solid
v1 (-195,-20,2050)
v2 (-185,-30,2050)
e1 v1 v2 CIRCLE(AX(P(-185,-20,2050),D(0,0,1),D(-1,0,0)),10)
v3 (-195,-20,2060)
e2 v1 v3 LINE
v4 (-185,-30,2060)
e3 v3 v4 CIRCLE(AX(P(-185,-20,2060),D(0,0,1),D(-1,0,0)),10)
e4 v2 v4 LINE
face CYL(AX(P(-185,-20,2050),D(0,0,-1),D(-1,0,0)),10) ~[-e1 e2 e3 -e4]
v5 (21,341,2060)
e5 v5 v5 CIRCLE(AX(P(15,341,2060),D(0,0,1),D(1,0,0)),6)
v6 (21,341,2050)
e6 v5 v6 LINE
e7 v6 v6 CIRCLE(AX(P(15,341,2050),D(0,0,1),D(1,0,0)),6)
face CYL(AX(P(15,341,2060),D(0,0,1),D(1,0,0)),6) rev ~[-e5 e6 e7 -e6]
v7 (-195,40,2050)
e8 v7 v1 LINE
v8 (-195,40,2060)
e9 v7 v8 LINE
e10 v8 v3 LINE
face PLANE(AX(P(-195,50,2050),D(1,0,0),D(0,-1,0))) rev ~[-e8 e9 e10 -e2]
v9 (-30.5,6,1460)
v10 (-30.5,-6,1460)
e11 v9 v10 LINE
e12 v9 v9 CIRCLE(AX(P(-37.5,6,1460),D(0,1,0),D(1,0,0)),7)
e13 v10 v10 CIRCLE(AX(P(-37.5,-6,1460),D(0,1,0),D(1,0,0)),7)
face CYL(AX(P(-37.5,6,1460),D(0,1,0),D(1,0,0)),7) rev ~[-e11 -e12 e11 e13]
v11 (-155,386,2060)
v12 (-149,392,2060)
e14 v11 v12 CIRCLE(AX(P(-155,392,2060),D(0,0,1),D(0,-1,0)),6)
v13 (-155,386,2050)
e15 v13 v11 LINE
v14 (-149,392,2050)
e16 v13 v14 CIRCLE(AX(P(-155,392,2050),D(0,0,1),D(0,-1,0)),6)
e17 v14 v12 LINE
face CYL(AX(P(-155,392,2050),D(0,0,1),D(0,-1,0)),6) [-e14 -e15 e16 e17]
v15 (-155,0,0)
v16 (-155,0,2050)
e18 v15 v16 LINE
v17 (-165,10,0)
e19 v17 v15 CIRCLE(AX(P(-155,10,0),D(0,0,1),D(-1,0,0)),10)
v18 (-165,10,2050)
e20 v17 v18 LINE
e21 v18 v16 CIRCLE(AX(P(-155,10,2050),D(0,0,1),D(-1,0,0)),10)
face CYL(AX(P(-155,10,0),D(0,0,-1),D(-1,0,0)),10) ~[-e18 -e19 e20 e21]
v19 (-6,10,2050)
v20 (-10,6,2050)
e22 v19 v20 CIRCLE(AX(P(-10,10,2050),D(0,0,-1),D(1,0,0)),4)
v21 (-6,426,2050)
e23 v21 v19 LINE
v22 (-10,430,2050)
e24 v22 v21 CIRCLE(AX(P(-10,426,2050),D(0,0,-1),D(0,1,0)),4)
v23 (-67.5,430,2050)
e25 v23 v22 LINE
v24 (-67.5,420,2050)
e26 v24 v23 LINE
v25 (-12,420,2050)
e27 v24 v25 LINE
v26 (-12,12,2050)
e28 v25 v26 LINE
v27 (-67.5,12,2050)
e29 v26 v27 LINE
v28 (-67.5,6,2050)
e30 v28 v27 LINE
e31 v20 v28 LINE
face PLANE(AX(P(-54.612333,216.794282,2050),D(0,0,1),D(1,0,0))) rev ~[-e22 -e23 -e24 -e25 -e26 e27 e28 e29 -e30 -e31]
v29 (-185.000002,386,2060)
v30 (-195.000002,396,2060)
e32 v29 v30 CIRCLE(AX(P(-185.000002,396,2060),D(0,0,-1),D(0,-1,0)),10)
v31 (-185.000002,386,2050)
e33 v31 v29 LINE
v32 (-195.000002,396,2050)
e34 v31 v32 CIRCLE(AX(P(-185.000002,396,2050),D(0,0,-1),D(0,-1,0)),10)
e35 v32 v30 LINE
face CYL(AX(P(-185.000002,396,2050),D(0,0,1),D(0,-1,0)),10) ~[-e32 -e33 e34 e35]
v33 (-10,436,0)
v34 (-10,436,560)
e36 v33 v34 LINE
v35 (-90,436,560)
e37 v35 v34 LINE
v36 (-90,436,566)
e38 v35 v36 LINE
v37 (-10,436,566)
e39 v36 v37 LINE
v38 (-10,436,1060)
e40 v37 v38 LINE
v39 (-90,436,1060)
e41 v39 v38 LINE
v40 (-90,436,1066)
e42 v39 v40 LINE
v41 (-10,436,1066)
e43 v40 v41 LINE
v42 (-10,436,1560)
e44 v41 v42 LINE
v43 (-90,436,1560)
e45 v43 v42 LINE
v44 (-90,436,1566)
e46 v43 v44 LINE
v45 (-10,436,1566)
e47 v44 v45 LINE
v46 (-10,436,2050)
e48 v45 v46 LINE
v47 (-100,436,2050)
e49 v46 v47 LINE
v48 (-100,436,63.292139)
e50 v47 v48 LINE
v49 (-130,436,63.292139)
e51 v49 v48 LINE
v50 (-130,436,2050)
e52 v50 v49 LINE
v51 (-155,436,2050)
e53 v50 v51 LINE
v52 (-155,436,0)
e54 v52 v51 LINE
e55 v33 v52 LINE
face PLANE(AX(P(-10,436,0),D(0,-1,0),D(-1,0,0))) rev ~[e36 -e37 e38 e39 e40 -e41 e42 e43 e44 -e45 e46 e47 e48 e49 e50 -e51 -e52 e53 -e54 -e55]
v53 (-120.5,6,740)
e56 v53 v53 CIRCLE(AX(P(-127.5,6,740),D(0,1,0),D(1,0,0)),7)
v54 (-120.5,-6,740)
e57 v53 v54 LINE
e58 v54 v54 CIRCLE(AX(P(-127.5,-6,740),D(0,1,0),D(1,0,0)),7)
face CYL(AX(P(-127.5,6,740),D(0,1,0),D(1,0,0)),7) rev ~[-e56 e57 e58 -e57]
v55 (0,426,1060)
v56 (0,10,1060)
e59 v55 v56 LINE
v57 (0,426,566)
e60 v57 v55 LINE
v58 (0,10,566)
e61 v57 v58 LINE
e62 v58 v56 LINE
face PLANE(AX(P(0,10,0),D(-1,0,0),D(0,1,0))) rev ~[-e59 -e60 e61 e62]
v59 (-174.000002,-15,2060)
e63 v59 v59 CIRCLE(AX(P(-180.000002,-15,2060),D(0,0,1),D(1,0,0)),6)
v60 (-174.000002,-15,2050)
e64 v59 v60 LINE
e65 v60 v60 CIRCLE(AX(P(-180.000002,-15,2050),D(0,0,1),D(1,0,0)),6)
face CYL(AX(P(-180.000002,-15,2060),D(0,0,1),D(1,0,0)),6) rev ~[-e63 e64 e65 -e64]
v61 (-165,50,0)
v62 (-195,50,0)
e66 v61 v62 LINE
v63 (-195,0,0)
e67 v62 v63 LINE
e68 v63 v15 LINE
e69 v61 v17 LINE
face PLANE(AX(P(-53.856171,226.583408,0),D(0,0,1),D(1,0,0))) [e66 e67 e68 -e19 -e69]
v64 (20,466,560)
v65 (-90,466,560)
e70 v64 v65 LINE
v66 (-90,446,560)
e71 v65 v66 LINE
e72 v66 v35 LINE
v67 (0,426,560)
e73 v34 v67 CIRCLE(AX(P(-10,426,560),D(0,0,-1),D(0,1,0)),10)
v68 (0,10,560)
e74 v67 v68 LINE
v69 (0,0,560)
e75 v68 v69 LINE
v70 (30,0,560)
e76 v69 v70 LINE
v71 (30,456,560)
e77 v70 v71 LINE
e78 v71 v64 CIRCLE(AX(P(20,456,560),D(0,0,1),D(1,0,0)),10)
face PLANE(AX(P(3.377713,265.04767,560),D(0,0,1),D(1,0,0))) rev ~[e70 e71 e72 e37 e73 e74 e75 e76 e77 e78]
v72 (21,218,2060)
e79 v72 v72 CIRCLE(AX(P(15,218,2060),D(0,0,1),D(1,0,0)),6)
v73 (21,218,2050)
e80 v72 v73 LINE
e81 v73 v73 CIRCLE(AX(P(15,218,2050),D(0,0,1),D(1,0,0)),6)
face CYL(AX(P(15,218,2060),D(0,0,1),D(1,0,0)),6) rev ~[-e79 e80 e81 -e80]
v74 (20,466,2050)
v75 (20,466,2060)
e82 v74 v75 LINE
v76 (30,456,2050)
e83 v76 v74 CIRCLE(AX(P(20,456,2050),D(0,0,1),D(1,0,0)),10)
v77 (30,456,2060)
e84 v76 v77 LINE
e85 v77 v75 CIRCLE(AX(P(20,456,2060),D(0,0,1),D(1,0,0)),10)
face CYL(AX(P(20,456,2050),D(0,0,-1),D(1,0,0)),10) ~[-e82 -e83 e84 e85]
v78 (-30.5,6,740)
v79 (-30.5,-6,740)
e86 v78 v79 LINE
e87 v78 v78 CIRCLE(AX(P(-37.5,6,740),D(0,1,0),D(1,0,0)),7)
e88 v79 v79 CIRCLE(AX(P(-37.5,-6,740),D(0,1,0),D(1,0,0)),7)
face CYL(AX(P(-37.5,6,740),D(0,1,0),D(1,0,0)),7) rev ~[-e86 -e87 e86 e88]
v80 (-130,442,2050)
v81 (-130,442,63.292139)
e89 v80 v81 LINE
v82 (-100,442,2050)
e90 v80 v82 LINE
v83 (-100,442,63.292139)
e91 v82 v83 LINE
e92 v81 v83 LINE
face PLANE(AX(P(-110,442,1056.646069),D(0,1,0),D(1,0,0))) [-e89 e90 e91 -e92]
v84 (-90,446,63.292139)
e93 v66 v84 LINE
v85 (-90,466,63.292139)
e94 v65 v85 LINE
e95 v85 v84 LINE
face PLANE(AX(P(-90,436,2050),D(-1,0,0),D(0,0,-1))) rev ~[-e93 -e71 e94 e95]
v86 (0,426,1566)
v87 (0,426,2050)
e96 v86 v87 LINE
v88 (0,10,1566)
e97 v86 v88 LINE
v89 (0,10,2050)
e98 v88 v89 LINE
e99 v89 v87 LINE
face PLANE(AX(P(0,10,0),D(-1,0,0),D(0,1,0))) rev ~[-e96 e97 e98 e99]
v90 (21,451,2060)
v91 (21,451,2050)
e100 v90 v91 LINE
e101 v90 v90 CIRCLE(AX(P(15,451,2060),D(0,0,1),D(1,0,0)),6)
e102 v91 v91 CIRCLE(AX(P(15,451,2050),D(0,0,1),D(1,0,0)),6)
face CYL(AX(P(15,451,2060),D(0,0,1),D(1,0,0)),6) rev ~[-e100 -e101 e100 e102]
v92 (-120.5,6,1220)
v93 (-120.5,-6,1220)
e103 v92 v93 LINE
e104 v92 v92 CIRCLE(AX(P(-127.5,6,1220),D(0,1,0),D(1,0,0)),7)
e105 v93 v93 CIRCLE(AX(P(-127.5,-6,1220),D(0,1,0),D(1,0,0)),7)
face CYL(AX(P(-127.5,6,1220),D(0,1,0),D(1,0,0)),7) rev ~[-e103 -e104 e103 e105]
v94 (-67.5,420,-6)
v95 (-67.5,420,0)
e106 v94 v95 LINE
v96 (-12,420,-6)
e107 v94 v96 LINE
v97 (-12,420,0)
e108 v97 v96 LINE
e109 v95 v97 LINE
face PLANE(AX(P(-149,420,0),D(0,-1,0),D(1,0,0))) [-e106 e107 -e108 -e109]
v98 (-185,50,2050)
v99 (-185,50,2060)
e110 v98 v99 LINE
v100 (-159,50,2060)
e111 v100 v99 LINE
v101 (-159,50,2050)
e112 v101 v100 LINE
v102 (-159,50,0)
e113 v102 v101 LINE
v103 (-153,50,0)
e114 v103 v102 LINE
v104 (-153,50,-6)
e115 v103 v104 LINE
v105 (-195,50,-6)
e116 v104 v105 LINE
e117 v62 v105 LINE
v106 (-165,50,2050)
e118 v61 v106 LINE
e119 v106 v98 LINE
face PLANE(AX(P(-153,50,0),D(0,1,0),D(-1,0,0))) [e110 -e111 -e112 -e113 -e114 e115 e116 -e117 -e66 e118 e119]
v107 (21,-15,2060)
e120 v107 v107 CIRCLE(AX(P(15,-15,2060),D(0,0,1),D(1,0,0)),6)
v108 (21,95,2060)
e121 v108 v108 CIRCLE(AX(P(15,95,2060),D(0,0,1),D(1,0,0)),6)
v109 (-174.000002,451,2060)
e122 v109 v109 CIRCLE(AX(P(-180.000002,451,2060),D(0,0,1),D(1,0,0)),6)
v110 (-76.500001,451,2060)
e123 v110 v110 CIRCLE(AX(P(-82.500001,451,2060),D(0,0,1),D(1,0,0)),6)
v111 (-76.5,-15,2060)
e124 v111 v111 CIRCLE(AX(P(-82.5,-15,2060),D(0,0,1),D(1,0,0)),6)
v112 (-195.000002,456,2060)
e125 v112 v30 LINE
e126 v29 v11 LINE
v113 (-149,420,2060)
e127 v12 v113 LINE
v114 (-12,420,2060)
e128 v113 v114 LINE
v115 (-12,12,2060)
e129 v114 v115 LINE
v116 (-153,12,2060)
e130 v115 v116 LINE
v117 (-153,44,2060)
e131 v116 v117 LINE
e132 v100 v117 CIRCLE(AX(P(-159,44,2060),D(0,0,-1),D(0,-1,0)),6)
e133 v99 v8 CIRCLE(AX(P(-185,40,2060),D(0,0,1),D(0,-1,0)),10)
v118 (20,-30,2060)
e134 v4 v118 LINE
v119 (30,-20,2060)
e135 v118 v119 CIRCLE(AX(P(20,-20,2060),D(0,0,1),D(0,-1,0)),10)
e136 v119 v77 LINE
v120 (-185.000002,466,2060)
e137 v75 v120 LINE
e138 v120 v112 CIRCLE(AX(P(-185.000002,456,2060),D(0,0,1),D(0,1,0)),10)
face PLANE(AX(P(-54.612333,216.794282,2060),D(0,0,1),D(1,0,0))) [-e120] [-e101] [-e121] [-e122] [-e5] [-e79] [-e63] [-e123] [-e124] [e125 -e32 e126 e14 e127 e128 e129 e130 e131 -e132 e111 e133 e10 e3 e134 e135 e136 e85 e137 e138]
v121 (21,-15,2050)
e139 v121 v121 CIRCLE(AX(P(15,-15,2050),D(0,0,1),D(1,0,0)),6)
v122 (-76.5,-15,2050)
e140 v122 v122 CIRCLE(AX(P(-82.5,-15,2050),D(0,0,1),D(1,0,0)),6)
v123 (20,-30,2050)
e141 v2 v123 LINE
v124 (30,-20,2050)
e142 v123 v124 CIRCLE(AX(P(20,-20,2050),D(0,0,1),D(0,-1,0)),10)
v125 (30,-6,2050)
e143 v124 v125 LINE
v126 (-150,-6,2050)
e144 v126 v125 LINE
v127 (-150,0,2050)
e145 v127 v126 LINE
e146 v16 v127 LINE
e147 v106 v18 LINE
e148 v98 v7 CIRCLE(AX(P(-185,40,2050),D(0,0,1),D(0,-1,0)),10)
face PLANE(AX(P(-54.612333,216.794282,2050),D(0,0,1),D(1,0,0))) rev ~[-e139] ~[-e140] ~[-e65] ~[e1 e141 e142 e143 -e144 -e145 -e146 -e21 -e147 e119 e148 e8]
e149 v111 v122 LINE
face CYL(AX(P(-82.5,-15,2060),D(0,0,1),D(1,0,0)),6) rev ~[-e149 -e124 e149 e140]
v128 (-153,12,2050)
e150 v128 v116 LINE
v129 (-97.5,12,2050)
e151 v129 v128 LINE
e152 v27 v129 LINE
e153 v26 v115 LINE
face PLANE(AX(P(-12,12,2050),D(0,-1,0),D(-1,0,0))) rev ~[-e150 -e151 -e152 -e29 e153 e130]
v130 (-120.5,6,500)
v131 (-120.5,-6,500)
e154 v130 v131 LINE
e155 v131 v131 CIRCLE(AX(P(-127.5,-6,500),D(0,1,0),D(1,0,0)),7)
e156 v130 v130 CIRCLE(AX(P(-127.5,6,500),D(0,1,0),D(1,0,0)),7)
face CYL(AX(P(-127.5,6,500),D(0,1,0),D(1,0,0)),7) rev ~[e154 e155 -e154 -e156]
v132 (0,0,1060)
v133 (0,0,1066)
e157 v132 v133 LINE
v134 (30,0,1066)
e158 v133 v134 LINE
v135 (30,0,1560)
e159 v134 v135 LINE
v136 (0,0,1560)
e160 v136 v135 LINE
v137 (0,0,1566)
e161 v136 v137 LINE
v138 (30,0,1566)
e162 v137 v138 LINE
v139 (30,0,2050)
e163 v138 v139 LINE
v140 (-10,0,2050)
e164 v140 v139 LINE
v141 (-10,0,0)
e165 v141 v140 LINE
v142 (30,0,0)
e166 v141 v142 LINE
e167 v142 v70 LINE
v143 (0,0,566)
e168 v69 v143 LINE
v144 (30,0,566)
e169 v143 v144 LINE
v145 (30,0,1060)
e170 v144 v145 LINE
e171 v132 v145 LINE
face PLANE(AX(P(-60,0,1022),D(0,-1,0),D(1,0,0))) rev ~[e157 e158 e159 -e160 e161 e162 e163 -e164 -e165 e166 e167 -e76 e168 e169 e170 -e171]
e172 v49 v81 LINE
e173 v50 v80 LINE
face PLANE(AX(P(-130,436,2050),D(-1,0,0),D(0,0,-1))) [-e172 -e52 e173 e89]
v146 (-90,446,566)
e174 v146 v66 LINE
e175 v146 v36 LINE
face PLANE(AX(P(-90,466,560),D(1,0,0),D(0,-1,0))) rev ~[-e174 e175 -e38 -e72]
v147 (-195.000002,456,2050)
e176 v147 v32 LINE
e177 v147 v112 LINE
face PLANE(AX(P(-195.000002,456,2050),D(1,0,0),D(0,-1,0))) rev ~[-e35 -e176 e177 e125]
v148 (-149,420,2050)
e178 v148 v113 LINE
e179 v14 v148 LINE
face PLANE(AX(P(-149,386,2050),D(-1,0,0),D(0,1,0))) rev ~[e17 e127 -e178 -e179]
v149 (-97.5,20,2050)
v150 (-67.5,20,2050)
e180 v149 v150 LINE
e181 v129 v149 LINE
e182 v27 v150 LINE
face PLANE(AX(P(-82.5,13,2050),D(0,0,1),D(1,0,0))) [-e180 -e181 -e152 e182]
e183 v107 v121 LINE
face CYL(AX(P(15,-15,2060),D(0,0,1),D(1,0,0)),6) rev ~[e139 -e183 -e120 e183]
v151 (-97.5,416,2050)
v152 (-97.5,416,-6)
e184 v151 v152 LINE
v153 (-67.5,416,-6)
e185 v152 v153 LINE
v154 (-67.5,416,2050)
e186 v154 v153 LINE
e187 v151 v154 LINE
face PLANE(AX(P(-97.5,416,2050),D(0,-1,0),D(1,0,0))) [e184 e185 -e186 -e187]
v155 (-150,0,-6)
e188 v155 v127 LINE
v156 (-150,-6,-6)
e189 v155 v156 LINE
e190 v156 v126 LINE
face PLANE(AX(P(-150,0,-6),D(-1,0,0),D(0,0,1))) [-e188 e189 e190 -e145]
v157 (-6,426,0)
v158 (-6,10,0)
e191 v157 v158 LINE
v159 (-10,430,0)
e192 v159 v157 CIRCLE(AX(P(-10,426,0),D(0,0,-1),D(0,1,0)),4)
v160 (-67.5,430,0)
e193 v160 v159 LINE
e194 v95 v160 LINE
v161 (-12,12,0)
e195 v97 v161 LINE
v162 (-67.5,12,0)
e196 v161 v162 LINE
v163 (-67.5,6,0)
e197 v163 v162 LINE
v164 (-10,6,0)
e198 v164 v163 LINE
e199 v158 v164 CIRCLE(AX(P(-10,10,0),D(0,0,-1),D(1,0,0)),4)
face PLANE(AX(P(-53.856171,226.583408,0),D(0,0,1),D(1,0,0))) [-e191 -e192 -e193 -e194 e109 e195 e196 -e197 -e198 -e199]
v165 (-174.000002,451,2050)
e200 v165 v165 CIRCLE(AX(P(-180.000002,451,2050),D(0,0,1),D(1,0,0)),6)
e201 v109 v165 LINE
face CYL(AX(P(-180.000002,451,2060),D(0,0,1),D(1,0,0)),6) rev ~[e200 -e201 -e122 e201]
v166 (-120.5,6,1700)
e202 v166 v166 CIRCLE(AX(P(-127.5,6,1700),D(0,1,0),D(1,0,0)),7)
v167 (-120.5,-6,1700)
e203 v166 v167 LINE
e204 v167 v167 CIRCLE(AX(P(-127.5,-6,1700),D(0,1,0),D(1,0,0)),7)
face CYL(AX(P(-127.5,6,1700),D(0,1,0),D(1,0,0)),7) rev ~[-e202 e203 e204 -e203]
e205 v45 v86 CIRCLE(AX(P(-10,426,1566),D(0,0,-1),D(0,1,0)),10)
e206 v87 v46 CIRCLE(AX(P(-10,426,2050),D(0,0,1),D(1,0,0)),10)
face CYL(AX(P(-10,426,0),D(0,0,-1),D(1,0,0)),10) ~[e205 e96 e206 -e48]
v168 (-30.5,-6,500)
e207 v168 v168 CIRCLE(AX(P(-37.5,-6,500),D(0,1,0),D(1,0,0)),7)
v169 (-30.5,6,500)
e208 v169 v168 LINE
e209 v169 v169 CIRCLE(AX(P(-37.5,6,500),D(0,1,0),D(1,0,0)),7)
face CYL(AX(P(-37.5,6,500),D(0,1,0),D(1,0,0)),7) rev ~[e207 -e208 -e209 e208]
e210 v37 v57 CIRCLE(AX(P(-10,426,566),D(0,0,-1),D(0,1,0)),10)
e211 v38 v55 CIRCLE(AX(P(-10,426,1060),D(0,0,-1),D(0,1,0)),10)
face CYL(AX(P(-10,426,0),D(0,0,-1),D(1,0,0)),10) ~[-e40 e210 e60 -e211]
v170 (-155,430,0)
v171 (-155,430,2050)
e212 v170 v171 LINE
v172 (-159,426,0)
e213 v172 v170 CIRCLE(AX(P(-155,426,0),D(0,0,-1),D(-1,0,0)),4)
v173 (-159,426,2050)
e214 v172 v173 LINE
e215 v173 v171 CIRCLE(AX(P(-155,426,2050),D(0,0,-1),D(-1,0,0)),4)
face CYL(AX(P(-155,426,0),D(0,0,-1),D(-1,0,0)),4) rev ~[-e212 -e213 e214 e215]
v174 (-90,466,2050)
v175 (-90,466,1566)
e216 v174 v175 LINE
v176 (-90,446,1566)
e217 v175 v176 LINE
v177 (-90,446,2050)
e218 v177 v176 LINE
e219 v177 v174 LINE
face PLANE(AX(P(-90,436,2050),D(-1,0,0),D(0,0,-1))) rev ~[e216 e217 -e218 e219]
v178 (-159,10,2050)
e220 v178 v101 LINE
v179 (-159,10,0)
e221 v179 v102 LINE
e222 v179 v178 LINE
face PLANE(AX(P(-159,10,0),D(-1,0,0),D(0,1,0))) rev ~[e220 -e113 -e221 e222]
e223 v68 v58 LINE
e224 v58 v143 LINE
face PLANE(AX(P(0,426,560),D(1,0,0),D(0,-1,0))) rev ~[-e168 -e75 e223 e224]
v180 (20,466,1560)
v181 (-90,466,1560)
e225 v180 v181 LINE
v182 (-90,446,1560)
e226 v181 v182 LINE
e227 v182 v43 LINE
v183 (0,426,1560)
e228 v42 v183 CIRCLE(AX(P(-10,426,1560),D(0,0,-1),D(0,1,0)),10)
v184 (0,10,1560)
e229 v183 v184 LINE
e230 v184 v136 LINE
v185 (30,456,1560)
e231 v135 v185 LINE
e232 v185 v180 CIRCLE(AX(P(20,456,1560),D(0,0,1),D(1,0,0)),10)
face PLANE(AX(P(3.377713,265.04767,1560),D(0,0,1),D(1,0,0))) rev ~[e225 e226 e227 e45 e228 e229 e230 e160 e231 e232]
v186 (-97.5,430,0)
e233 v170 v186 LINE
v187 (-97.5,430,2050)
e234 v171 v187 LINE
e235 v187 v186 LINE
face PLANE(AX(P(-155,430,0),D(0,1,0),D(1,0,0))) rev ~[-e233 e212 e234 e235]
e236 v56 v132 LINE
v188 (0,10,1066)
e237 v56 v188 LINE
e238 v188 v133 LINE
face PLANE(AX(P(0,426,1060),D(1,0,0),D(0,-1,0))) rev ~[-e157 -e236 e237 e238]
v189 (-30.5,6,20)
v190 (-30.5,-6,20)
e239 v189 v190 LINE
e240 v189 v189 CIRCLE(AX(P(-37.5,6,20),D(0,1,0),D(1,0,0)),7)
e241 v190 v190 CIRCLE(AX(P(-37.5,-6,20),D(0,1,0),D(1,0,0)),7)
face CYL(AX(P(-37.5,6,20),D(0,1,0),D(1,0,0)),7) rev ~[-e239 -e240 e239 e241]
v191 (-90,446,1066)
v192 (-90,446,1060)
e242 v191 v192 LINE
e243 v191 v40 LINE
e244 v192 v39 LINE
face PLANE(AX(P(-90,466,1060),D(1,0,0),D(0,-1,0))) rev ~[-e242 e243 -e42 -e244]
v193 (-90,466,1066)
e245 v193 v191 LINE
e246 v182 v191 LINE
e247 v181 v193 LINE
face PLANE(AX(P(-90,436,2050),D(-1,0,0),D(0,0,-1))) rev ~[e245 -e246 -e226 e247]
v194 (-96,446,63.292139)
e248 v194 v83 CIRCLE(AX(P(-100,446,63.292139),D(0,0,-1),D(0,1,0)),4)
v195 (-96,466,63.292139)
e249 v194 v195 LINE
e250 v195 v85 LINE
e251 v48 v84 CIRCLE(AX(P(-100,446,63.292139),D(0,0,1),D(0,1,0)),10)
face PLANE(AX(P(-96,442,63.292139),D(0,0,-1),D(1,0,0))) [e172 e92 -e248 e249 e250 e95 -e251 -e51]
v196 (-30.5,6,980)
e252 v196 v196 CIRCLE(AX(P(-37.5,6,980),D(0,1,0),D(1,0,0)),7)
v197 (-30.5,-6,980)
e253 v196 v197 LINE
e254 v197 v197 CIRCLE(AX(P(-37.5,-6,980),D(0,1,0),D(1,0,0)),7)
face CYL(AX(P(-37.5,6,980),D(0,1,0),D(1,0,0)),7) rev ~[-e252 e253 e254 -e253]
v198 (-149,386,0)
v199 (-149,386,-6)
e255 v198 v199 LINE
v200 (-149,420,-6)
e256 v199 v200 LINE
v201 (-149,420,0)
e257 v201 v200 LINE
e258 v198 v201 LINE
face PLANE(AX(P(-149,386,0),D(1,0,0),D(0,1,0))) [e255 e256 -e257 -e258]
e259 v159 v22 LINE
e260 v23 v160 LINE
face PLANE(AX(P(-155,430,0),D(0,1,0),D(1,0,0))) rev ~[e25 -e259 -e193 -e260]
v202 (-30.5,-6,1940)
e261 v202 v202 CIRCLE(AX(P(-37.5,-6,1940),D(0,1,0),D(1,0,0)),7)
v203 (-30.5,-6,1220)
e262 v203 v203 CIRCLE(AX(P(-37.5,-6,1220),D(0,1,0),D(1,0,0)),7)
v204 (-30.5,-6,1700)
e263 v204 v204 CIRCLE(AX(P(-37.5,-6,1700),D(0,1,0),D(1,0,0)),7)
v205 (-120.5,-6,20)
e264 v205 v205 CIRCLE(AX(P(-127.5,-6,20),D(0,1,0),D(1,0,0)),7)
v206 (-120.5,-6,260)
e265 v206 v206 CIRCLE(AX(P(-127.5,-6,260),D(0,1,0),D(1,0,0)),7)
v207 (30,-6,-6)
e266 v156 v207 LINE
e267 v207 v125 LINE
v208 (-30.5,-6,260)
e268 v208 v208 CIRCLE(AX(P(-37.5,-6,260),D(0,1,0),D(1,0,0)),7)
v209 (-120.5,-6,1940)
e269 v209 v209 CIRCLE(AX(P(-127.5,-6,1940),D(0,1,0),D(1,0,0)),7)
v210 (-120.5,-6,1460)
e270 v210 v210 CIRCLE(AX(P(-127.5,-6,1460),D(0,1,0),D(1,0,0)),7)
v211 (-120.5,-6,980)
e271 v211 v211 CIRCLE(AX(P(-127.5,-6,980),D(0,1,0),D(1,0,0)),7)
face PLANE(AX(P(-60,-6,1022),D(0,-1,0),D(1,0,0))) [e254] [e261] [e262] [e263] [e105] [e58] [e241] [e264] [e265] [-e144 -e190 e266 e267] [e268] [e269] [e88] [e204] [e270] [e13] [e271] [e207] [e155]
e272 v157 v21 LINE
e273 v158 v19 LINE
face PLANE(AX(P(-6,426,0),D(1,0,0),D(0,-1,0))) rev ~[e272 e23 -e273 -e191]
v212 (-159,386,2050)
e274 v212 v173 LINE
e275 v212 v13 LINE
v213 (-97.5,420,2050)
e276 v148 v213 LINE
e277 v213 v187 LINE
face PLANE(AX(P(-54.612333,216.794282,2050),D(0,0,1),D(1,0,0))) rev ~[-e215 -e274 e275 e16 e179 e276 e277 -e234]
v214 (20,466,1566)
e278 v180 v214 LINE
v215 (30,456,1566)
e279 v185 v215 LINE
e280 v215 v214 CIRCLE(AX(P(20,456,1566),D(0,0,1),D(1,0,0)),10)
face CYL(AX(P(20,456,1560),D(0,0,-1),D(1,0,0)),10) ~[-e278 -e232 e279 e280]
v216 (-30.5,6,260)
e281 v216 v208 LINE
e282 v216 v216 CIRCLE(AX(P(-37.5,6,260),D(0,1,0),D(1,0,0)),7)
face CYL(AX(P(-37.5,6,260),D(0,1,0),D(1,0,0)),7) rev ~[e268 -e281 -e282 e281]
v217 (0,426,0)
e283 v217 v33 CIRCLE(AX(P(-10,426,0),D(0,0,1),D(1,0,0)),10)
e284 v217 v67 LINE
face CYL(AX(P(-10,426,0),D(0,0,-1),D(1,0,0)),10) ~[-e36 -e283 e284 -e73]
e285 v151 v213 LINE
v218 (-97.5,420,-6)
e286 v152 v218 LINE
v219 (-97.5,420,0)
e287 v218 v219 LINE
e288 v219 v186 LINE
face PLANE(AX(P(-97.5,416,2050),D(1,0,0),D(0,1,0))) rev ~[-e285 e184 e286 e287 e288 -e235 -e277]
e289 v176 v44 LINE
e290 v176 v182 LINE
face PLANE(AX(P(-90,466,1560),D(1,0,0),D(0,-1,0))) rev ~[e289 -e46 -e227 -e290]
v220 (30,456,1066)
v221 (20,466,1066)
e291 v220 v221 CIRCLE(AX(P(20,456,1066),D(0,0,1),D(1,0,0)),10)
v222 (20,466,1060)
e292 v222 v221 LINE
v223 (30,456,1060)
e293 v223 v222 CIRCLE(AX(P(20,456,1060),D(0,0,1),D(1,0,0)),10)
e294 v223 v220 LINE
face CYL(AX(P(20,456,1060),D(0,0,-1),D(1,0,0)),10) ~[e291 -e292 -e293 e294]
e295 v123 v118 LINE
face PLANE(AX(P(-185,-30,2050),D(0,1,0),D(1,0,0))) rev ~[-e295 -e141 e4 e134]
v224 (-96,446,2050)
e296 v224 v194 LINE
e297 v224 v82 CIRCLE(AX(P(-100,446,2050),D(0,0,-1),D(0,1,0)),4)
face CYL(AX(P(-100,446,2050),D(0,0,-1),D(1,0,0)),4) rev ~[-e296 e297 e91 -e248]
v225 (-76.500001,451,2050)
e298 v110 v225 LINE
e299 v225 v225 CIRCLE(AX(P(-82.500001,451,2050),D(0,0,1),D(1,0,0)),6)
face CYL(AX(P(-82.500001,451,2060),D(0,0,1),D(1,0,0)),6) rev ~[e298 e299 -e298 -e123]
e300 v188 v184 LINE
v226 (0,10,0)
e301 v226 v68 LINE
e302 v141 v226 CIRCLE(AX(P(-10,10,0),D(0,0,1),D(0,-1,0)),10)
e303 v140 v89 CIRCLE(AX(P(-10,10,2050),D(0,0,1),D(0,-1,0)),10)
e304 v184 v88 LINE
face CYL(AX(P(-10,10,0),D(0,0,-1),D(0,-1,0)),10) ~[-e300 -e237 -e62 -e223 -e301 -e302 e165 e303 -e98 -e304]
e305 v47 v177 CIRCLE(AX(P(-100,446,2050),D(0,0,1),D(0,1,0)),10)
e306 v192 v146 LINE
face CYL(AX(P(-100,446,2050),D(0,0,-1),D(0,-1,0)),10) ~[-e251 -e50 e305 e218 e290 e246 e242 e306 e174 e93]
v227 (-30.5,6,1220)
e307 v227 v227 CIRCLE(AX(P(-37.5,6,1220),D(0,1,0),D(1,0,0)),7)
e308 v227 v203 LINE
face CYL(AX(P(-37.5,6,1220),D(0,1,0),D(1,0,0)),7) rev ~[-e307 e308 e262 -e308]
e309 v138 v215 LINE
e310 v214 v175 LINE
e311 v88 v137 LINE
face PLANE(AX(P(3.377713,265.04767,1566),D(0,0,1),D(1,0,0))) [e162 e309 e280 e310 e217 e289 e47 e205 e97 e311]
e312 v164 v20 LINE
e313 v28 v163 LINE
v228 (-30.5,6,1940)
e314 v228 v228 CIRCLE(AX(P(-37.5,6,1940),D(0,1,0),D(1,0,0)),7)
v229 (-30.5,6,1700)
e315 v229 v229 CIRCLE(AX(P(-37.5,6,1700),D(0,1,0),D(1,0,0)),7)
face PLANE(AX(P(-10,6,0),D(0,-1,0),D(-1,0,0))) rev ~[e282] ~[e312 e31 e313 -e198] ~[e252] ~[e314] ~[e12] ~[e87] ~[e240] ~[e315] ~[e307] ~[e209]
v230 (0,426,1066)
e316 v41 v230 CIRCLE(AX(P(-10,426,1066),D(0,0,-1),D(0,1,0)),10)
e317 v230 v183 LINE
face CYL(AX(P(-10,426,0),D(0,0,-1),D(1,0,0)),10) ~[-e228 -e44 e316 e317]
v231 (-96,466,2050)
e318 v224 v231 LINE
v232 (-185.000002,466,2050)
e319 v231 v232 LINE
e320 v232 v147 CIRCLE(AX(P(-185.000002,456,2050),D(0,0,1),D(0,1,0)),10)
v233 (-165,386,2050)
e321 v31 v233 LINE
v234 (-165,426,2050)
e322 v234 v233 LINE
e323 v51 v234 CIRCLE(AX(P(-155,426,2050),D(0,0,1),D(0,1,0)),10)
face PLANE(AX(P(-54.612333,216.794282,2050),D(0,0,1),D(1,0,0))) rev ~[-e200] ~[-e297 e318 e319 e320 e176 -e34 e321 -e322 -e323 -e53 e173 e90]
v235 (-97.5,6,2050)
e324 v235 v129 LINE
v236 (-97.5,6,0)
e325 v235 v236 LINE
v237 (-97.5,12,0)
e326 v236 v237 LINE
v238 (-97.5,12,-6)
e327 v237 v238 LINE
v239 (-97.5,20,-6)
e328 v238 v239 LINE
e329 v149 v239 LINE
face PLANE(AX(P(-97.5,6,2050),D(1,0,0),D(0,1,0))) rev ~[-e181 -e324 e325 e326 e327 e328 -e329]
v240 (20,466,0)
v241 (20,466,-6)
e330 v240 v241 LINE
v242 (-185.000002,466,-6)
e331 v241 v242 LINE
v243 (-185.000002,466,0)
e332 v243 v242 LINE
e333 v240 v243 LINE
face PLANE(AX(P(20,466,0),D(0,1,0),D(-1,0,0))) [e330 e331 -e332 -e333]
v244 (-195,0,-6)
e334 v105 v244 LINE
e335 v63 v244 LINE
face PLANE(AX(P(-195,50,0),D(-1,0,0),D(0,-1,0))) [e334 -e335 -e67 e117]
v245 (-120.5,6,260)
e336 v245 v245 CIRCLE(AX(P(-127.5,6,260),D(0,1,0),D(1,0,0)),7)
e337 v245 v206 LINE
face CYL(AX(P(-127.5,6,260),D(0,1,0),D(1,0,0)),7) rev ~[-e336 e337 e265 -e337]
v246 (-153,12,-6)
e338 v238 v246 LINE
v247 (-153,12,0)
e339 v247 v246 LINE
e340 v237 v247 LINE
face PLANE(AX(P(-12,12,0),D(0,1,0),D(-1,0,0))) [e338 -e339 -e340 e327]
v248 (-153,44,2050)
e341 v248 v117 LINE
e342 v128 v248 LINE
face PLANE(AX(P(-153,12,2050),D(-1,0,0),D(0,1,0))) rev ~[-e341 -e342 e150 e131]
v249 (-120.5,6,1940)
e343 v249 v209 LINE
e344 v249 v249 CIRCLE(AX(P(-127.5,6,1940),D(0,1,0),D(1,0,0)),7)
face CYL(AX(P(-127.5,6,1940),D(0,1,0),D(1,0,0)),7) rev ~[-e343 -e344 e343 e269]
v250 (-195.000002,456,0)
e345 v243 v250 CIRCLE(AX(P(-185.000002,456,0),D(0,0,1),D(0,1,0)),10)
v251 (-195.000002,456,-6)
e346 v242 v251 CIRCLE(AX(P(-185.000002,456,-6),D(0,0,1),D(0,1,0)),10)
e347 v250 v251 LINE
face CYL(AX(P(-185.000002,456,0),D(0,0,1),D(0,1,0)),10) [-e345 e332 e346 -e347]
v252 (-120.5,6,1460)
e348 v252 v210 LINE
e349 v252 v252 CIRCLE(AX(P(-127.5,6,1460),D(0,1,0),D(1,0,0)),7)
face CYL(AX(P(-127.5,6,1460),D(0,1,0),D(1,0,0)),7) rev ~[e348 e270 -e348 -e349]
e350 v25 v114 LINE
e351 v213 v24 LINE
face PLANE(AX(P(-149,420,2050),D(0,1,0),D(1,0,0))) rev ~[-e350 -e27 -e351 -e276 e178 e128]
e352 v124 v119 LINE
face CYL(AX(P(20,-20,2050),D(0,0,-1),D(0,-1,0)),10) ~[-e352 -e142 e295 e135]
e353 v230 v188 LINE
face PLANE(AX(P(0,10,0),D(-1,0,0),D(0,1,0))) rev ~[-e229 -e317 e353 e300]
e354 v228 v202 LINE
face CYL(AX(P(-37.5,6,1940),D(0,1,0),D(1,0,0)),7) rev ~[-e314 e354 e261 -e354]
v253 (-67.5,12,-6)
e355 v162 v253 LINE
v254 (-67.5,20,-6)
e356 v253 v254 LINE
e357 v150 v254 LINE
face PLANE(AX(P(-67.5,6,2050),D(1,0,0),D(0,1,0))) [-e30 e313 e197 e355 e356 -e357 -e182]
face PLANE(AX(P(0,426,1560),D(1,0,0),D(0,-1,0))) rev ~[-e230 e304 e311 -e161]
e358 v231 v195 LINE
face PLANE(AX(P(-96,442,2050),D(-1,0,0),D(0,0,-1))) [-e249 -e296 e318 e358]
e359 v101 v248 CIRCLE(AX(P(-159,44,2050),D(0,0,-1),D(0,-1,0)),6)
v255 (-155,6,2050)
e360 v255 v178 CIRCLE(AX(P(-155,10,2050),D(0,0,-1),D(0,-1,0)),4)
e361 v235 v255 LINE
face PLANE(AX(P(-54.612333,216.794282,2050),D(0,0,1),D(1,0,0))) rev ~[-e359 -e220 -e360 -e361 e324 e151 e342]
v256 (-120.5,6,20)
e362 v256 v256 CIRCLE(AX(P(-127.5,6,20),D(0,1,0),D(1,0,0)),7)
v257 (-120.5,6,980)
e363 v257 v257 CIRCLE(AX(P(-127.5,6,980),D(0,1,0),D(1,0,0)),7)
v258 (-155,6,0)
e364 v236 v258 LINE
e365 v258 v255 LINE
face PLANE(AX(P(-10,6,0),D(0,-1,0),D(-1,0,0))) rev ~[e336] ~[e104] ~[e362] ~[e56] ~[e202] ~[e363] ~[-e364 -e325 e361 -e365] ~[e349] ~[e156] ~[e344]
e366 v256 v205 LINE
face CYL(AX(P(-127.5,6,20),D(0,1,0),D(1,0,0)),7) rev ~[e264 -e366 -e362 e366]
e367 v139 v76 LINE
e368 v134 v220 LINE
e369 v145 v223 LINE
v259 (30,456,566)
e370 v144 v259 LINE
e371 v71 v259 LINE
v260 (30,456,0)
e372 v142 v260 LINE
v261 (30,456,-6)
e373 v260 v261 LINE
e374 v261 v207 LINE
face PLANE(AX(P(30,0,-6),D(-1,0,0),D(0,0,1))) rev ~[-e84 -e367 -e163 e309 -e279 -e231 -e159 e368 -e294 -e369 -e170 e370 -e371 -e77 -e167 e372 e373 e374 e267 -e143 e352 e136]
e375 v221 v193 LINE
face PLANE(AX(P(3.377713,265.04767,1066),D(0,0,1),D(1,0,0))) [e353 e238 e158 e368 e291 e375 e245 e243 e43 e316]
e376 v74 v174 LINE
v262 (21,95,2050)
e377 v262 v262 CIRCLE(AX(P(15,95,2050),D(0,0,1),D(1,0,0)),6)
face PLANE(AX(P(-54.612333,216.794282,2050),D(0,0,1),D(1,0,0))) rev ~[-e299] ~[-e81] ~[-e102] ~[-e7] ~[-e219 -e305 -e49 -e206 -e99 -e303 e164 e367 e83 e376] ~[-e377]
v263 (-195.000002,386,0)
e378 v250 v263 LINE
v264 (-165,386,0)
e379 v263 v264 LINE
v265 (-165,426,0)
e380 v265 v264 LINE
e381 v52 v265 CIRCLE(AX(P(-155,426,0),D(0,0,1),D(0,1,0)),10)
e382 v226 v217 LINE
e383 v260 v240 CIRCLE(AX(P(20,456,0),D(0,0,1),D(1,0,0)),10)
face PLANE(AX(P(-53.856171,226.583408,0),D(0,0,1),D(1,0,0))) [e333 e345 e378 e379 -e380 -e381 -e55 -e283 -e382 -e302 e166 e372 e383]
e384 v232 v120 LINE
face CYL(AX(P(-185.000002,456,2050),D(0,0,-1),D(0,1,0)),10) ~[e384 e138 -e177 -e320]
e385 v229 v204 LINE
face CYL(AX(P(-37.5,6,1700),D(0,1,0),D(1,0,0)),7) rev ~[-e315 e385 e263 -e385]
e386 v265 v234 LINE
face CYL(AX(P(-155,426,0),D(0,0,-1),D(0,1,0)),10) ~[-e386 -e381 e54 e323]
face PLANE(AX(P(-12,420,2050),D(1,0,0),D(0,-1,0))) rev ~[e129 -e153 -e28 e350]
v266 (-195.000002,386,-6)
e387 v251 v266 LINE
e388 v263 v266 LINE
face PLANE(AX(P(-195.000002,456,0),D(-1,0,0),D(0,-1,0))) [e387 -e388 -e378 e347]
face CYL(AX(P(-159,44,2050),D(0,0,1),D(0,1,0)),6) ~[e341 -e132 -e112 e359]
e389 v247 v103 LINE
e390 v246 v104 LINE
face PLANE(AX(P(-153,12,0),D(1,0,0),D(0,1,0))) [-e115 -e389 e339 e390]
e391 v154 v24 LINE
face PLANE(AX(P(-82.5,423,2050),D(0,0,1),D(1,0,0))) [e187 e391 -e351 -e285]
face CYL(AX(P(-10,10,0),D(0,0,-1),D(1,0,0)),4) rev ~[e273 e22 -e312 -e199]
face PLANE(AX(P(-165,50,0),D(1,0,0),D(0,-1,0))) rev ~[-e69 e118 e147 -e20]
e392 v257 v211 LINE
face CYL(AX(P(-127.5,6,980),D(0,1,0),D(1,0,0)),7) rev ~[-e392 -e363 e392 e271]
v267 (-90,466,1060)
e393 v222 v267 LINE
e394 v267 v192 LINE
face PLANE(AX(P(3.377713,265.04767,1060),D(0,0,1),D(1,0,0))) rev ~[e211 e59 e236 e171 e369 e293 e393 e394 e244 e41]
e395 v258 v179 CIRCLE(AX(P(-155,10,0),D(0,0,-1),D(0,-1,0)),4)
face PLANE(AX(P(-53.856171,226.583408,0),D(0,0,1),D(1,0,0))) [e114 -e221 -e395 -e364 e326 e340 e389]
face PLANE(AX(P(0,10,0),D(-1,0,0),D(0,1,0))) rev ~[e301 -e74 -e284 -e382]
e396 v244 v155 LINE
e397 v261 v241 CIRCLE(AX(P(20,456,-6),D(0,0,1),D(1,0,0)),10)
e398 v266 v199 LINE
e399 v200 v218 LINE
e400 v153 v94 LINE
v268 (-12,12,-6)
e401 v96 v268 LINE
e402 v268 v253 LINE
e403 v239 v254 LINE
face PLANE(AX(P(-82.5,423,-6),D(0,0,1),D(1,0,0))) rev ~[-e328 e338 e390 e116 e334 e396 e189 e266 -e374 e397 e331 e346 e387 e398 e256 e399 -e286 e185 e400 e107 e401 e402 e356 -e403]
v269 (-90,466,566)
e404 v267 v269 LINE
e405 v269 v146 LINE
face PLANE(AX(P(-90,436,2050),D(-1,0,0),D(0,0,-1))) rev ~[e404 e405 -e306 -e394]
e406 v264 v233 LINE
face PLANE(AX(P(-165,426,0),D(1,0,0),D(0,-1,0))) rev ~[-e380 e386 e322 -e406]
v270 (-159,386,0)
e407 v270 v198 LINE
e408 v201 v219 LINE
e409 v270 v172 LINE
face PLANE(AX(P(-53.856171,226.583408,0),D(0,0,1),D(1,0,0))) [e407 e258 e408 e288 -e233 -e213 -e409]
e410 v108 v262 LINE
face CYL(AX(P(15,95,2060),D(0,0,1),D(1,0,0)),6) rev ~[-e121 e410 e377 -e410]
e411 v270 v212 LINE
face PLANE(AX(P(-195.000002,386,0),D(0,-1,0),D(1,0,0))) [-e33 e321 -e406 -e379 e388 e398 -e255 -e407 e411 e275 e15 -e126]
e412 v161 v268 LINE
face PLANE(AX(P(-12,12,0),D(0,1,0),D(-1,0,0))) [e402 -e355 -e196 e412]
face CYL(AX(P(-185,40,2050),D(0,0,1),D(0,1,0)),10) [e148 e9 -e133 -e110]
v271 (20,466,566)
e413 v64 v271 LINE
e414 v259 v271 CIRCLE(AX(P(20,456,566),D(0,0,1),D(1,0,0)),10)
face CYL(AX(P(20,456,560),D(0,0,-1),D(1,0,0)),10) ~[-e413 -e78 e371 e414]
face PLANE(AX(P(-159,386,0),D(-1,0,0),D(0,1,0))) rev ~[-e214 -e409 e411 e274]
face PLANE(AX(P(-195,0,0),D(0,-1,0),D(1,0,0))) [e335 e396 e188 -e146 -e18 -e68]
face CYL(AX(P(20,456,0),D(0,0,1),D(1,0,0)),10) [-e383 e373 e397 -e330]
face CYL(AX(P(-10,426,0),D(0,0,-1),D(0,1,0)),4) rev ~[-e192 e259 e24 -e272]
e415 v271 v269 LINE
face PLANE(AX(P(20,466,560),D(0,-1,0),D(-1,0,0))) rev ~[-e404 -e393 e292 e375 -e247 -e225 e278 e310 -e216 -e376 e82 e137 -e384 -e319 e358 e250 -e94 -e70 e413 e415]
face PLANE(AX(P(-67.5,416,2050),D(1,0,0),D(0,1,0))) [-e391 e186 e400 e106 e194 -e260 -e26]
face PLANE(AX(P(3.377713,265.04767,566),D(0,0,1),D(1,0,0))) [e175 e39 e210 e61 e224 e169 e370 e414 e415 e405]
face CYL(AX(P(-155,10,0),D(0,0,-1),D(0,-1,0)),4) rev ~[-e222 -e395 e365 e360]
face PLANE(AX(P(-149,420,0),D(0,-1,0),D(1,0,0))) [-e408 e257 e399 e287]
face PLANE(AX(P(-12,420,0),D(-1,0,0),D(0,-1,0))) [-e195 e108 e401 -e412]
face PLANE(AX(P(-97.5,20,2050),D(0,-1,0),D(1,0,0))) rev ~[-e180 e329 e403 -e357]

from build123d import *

# Parameters (mm, degrees)
EXTRUDE_1_DEPTH     = 2050
EXTRUDE_2_DEPTH     = 10
SKETCH_3_W          = 40
SKETCH_3_H          = 1986.707861461
EXTRUDE_3_DEPTH     = 6
SKETCH_4_W          = 6
SKETCH_4_H          = 1986.707861461
EXTRUDE_4_DEPTH     = 24
FILLET_1_R          = 4
FILLET_2_R          = 10
EXTRUDE_5_DEPTH     = 6
EXTRUDE_6_DEPTH     = 6
EXTRUDE_7_DEPTH     = 6
EXTRUDE_8_DEPTH     = 6
SKETCH_9_W          = 180
SKETCH_9_H          = 2056
EXTRUDE_9_DEPTH     = 6
SKETCH_10_W         = 30
SKETCH_10_H         = 14
EXTRUDE_10_DEPTH    = 2056
FILLET_3_R          = 10
FILLET_4_R          = 6
CUT_EXTRUDE_1_REACH = 38
SKETCH_11_R         = 7
SKETCH_12_R         = 6
SKETCH_12_W         = 5695
SKETCH_12_H         = 334
CUT_EXTRUDE_2_DEPTH = 10


with BuildPart() as part:
    # 草图1 → 凸台-拉伸1 (new body)
    with BuildSketch(Plane.XY):
        with BuildLine():
            Line((0, 10), (0, 426))
            ThreePointArc((0, 426), (-2.928932188, 433.071067812), (-10, 436))
            Line((-10, 436), (-155, 436))
            ThreePointArc((-155, 436), (-162.071067812, 433.071067812), (-165, 426))
            Line((-165, 426), (-165, 386))
            Line((-165, 386), (-159, 386))
            Line((-159, 386), (-159, 426))
            ThreePointArc((-159, 426), (-157.828427125, 428.828427125), (-155, 430))
            Line((-155, 430), (-10, 430))
            ThreePointArc((-10, 430), (-7.171572875, 428.828427125), (-6, 426))
            Line((-6, 426), (-6, 10))
            ThreePointArc((-6, 10), (-7.171572875, 7.171572875), (-10, 6))
            Line((-10, 6), (-155, 6))
            ThreePointArc((-155, 6), (-157.828427125, 7.171572875), (-159, 10))
            Line((-159, 10), (-159, 50))
            Line((-159, 50), (-165, 50))
            Line((-165, 50), (-165, 10))
            ThreePointArc((-165, 10), (-162.071067812, 2.928932188), (-155, 0))
            Line((-155, 0), (-10, 0))
            ThreePointArc((-10, 0), (-2.928932188, 2.928932188), (0, 10))
        make_face()
    extrude(amount=EXTRUDE_1_DEPTH)



with BuildPart() as body_2:
    # 草图2 → 凸台-拉伸2 (new body)
    with BuildSketch(Plane.XY.offset(2050)):
        with BuildLine():
            Line((-153, 50), (-195, 50))
            Line((-195, 50), (-195, -20))
            ThreePointArc((-195, -20), (-192.071067812, -27.071067812), (-185, -30))
            Line((-185, -30), (20, -30))
            ThreePointArc((20, -30), (27.071067812, -27.071067812), (30, -20))
            Line((30, -20), (30, 456))
            ThreePointArc((30, 456), (27.071067812, 463.071067812), (20, 466))
            Line((20, 466), (-185.000001669, 466))
            ThreePointArc((-185.000001669, 466), (-192.071069481, 463.071067812), (-195.000001669, 456))
            Line((-195.000001669, 456), (-195.000001669, 386))
            Line((-195.000001669, 386), (-149, 386))
            Line((-149, 386), (-149, 420))
            Line((-149, 420), (-12, 420))
            Line((-12, 420), (-12, 12))
            Line((-12, 12), (-153, 12))
            Line((-153, 12), (-153, 50))
        make_face()
    extrude(amount=EXTRUDE_2_DEPTH)



with BuildPart() as body_3:
    # 草图3 → 凸台-拉伸3 (new body)
    with BuildSketch(Plane(origin=(0, 436, 0), x_dir=(1, 0, 0), z_dir=(0, 1, 0))):
        with Locations((-110, -1056.64606927)):
            Rectangle(SKETCH_3_W, SKETCH_3_H)
    extrude(amount=EXTRUDE_3_DEPTH)


with BuildPart() as body_2_1:
    add(body_2.part)

    add(body_3.part)  # 凸台-拉伸4 merges body 3
    # 草图4 → 凸台-拉伸4 (add)
    with BuildSketch(Plane(origin=(0, 442, 0), x_dir=(1, 0, 0), z_dir=(0, 1, 0))):
        with Locations((-93, -1056.64606927)):
            Rectangle(SKETCH_4_W, SKETCH_4_H)
    extrude(amount=EXTRUDE_4_DEPTH)

    # 圆角1
    fillet_1_edges = [body_2_1.edges().sort_by_distance(p)[0] for p in [
        (-96, 442, 1056.64606927),
    ]]
    fillet(fillet_1_edges, radius=FILLET_1_R)

    # 圆角2
    fillet_2_edges = [body_2_1.edges().sort_by_distance(p)[0] for p in [
        (-90, 436, 1056.64606927),
    ]]
    fillet(fillet_2_edges, radius=FILLET_2_R)


with BuildPart() as part_1:
    add(part.part)

    add(body_2_1.part)  # 凸台-拉伸5 merges body 2
    # 草图5 → 凸台-拉伸5 (add)
    with BuildSketch(Plane.XY.offset(1560)):
        with BuildLine():
            Line((0, 0), (30, 0))
            Line((30, 0), (30, 456))
            ThreePointArc((30, 456), (27.071067812, 463.071067812), (20, 466))
            Line((20, 466), (-90, 466))
            Line((-90, 466), (-90, 436))
            Line((-90, 436), (-10, 436))
            ThreePointArc((-10, 436), (-2.928932188, 433.071067812), (0, 426))
            Line((0, 426), (0, 0))
        make_face()
    extrude(amount=EXTRUDE_5_DEPTH)

    # 草图6 → 凸台-拉伸6 (add)
    with BuildSketch(Plane.XY.offset(1060)):
        with BuildLine():
            Line((-90, 436), (-10, 436))
            ThreePointArc((-10, 436), (-2.928932188, 433.071067812), (0, 426))
            Line((0, 426), (0, 10))
            Line((0, 10), (0, 0))
            Line((0, 0), (30, 0))
            Line((30, 0), (30, 456))
            ThreePointArc((30, 456), (27.071067812, 463.071067812), (20, 466))
            Line((20, 466), (-90, 466))
            Line((-90, 466), (-90, 446))
            Line((-90, 446), (-90, 436))
        make_face()
    extrude(amount=EXTRUDE_6_DEPTH)

    # 草图7 → 凸台-拉伸7 (add)
    with BuildSketch(Plane.XY.offset(560)):
        with BuildLine():
            Line((0, 426), (0, 10))
            Line((0, 10), (0, 0))
            Line((0, 0), (30, 0))
            Line((30, 0), (30, 456))
            ThreePointArc((30, 456), (27.071067812, 463.071067812), (20, 466))
            Line((20, 466), (-90, 466))
            Line((-90, 466), (-90, 446))
            Line((-90, 446), (-90, 436))
            Line((-90, 436), (-10, 436))
            ThreePointArc((-10, 436), (-2.928932188, 433.071067812), (0, 426))
        make_face()
    extrude(amount=EXTRUDE_7_DEPTH)

    # 草图8 → 凸台-拉伸8 (add)
    with BuildSketch(Plane(origin=(0, 0, 0), x_dir=(-1, 0, 0), z_dir=(0, 0, -1))):
        with BuildLine():
            Line((0, 0), (-30, 0))
            Line((-30, 0), (-30, 456))
            ThreePointArc((-30, 456), (-27.071067812, 463.071067812), (-20, 466))
            Line((-20, 466), (185.000001669, 466))
            ThreePointArc((185.000001669, 466), (192.071069481, 463.071067812), (195.000001669, 456))
            Line((195.000001669, 456), (195.000001669, 386))
            Line((195.000001669, 386), (149, 386))
            Line((149, 386), (149, 420))
            Line((149, 420), (12, 420))
            Line((12, 420), (12, 12))
            Line((12, 12), (153, 12))
            Line((153, 12), (153, 50))
            Line((153, 50), (195, 50))
            Line((195, 50), (195, 0))
            Line((195, 0), (0, 0))
        make_face()
    extrude(amount=EXTRUDE_8_DEPTH)

    # 草图9 → 凸台-拉伸9 (add)
    with BuildSketch(Plane.XZ):
        with Locations((-60, 1022)):
            Rectangle(SKETCH_9_W, SKETCH_9_H)
    extrude(amount=EXTRUDE_9_DEPTH)

    # 草图10 → 凸台-拉伸10 (add)
    with BuildSketch(Plane.XY.offset(2050)):
        with Locations((-82.5, 423)):
            Rectangle(SKETCH_10_W, SKETCH_10_H)
        with Locations((-82.5, 13)):
            Rectangle(SKETCH_10_W, SKETCH_10_H)
    extrude(amount=-EXTRUDE_10_DEPTH)

    # 圆角3
    fillet_3_edges = [part_1.edges().sort_by_distance(p)[0] for p in [
        (-195, 50, 2055),
        (-195.000001669, 386, 2055),
    ]]
    fillet(fillet_3_edges, radius=FILLET_3_R)

    # 圆角4
    fillet_4_edges = [part_1.edges().sort_by_distance(p)[0] for p in [
        (-153, 50, 2055),
        (-149, 386, 2055),
    ]]
    fillet(fillet_4_edges, radius=FILLET_4_R)

    # 草图11 → 切除-拉伸1 (cut, up to next)
    with BuildSketch(Plane(origin=(0, 6, 0), x_dir=(1, 0, 0), z_dir=(0, 1, 0)), mode=Mode.PRIVATE) as cut_extrude_1_sk1:
        with Locations((-37.5, -1940)):
            Circle(SKETCH_11_R)
    cut_extrude_1_tool1 = extrude(cut_extrude_1_sk1.sketch, amount=-CUT_EXTRUDE_1_REACH, mode=Mode.PRIVATE) & part_1.part
    add(cut_extrude_1_tool1.solids().sort_by_distance((-37.5, 6, 1940))[0], mode=Mode.SUBTRACT)
    # 草图11 → 切除-拉伸1 (cut, up to next)
    with BuildSketch(Plane(origin=(0, 6, 0), x_dir=(1, 0, 0), z_dir=(0, 1, 0)), mode=Mode.PRIVATE) as cut_extrude_1_sk2:
        with Locations((-127.5, -1940)):
            Circle(SKETCH_11_R)
    cut_extrude_1_tool2 = extrude(cut_extrude_1_sk2.sketch, amount=-CUT_EXTRUDE_1_REACH, mode=Mode.PRIVATE) & part_1.part
    add(cut_extrude_1_tool2.solids().sort_by_distance((-127.5, 6, 1940))[0], mode=Mode.SUBTRACT)
    # 草图11 → 切除-拉伸1 (cut, up to next)
    with BuildSketch(Plane(origin=(0, 6, 0), x_dir=(1, 0, 0), z_dir=(0, 1, 0)), mode=Mode.PRIVATE) as cut_extrude_1_sk3:
        with Locations((-37.5, -1700)):
            Circle(SKETCH_11_R)
    cut_extrude_1_tool3 = extrude(cut_extrude_1_sk3.sketch, amount=-CUT_EXTRUDE_1_REACH, mode=Mode.PRIVATE) & part_1.part
    add(cut_extrude_1_tool3.solids().sort_by_distance((-37.5, 6, 1700))[0], mode=Mode.SUBTRACT)
    # 草图11 → 切除-拉伸1 (cut, up to next)
    with BuildSketch(Plane(origin=(0, 6, 0), x_dir=(1, 0, 0), z_dir=(0, 1, 0)), mode=Mode.PRIVATE) as cut_extrude_1_sk4:
        with Locations((-127.5, -1700)):
            Circle(SKETCH_11_R)
    cut_extrude_1_tool4 = extrude(cut_extrude_1_sk4.sketch, amount=-CUT_EXTRUDE_1_REACH, mode=Mode.PRIVATE) & part_1.part
    add(cut_extrude_1_tool4.solids().sort_by_distance((-127.5, 6, 1700))[0], mode=Mode.SUBTRACT)
    # 草图11 → 切除-拉伸1 (cut, up to next)
    with BuildSketch(Plane(origin=(0, 6, 0), x_dir=(1, 0, 0), z_dir=(0, 1, 0)), mode=Mode.PRIVATE) as cut_extrude_1_sk5:
        with Locations((-37.5, -1460)):
            Circle(SKETCH_11_R)
    cut_extrude_1_tool5 = extrude(cut_extrude_1_sk5.sketch, amount=-CUT_EXTRUDE_1_REACH, mode=Mode.PRIVATE) & part_1.part
    add(cut_extrude_1_tool5.solids().sort_by_distance((-37.5, 6, 1460))[0], mode=Mode.SUBTRACT)
    # 草图11 → 切除-拉伸1 (cut, up to next)
    with BuildSketch(Plane(origin=(0, 6, 0), x_dir=(1, 0, 0), z_dir=(0, 1, 0)), mode=Mode.PRIVATE) as cut_extrude_1_sk6:
        with Locations((-127.5, -1460)):
            Circle(SKETCH_11_R)
    cut_extrude_1_tool6 = extrude(cut_extrude_1_sk6.sketch, amount=-CUT_EXTRUDE_1_REACH, mode=Mode.PRIVATE) & part_1.part
    add(cut_extrude_1_tool6.solids().sort_by_distance((-127.5, 6, 1460))[0], mode=Mode.SUBTRACT)
    # 草图11 → 切除-拉伸1 (cut, up to next)
    with BuildSketch(Plane(origin=(0, 6, 0), x_dir=(1, 0, 0), z_dir=(0, 1, 0)), mode=Mode.PRIVATE) as cut_extrude_1_sk7:
        with Locations((-37.5, -1220)):
            Circle(SKETCH_11_R)
    cut_extrude_1_tool7 = extrude(cut_extrude_1_sk7.sketch, amount=-CUT_EXTRUDE_1_REACH, mode=Mode.PRIVATE) & part_1.part
    add(cut_extrude_1_tool7.solids().sort_by_distance((-37.5, 6, 1220))[0], mode=Mode.SUBTRACT)
    # 草图11 → 切除-拉伸1 (cut, up to next)
    with BuildSketch(Plane(origin=(0, 6, 0), x_dir=(1, 0, 0), z_dir=(0, 1, 0)), mode=Mode.PRIVATE) as cut_extrude_1_sk8:
        with Locations((-127.5, -1220)):
            Circle(SKETCH_11_R)
    cut_extrude_1_tool8 = extrude(cut_extrude_1_sk8.sketch, amount=-CUT_EXTRUDE_1_REACH, mode=Mode.PRIVATE) & part_1.part
    add(cut_extrude_1_tool8.solids().sort_by_distance((-127.5, 6, 1220))[0], mode=Mode.SUBTRACT)
    # 草图11 → 切除-拉伸1 (cut, up to next)
    with BuildSketch(Plane(origin=(0, 6, 0), x_dir=(1, 0, 0), z_dir=(0, 1, 0)), mode=Mode.PRIVATE) as cut_extrude_1_sk9:
        with Locations((-37.5, -980)):
            Circle(SKETCH_11_R)
    cut_extrude_1_tool9 = extrude(cut_extrude_1_sk9.sketch, amount=-CUT_EXTRUDE_1_REACH, mode=Mode.PRIVATE) & part_1.part
    add(cut_extrude_1_tool9.solids().sort_by_distance((-37.5, 6, 980))[0], mode=Mode.SUBTRACT)
    # 草图11 → 切除-拉伸1 (cut, up to next)
    with BuildSketch(Plane(origin=(0, 6, 0), x_dir=(1, 0, 0), z_dir=(0, 1, 0)), mode=Mode.PRIVATE) as cut_extrude_1_sk10:
        with Locations((-127.5, -980)):
            Circle(SKETCH_11_R)
    cut_extrude_1_tool10 = extrude(cut_extrude_1_sk10.sketch, amount=-CUT_EXTRUDE_1_REACH, mode=Mode.PRIVATE) & part_1.part
    add(cut_extrude_1_tool10.solids().sort_by_distance((-127.5, 6, 980))[0], mode=Mode.SUBTRACT)
    # 草图11 → 切除-拉伸1 (cut, up to next)
    with BuildSketch(Plane(origin=(0, 6, 0), x_dir=(1, 0, 0), z_dir=(0, 1, 0)), mode=Mode.PRIVATE) as cut_extrude_1_sk11:
        with Locations((-37.5, -740)):
            Circle(SKETCH_11_R)
    cut_extrude_1_tool11 = extrude(cut_extrude_1_sk11.sketch, amount=-CUT_EXTRUDE_1_REACH, mode=Mode.PRIVATE) & part_1.part
    add(cut_extrude_1_tool11.solids().sort_by_distance((-37.5, 6, 740))[0], mode=Mode.SUBTRACT)
    # 草图11 → 切除-拉伸1 (cut, up to next)
    with BuildSketch(Plane(origin=(0, 6, 0), x_dir=(1, 0, 0), z_dir=(0, 1, 0)), mode=Mode.PRIVATE) as cut_extrude_1_sk12:
        with Locations((-127.5, -740)):
            Circle(SKETCH_11_R)
    cut_extrude_1_tool12 = extrude(cut_extrude_1_sk12.sketch, amount=-CUT_EXTRUDE_1_REACH, mode=Mode.PRIVATE) & part_1.part
    add(cut_extrude_1_tool12.solids().sort_by_distance((-127.5, 6, 740))[0], mode=Mode.SUBTRACT)
    # 草图11 → 切除-拉伸1 (cut, up to next)
    with BuildSketch(Plane(origin=(0, 6, 0), x_dir=(1, 0, 0), z_dir=(0, 1, 0)), mode=Mode.PRIVATE) as cut_extrude_1_sk13:
        with Locations((-37.5, -500)):
            Circle(SKETCH_11_R)
    cut_extrude_1_tool13 = extrude(cut_extrude_1_sk13.sketch, amount=-CUT_EXTRUDE_1_REACH, mode=Mode.PRIVATE) & part_1.part
    add(cut_extrude_1_tool13.solids().sort_by_distance((-37.5, 6, 500))[0], mode=Mode.SUBTRACT)
    # 草图11 → 切除-拉伸1 (cut, up to next)
    with BuildSketch(Plane(origin=(0, 6, 0), x_dir=(1, 0, 0), z_dir=(0, 1, 0)), mode=Mode.PRIVATE) as cut_extrude_1_sk14:
        with Locations((-127.5, -500)):
            Circle(SKETCH_11_R)
    cut_extrude_1_tool14 = extrude(cut_extrude_1_sk14.sketch, amount=-CUT_EXTRUDE_1_REACH, mode=Mode.PRIVATE) & part_1.part
    add(cut_extrude_1_tool14.solids().sort_by_distance((-127.5, 6, 500))[0], mode=Mode.SUBTRACT)
    # 草图11 → 切除-拉伸1 (cut, up to next)
    with BuildSketch(Plane(origin=(0, 6, 0), x_dir=(1, 0, 0), z_dir=(0, 1, 0)), mode=Mode.PRIVATE) as cut_extrude_1_sk15:
        with Locations((-37.5, -260)):
            Circle(SKETCH_11_R)
    cut_extrude_1_tool15 = extrude(cut_extrude_1_sk15.sketch, amount=-CUT_EXTRUDE_1_REACH, mode=Mode.PRIVATE) & part_1.part
    add(cut_extrude_1_tool15.solids().sort_by_distance((-37.5, 6, 260))[0], mode=Mode.SUBTRACT)
    # 草图11 → 切除-拉伸1 (cut, up to next)
    with BuildSketch(Plane(origin=(0, 6, 0), x_dir=(1, 0, 0), z_dir=(0, 1, 0)), mode=Mode.PRIVATE) as cut_extrude_1_sk16:
        with Locations((-127.5, -260)):
            Circle(SKETCH_11_R)
    cut_extrude_1_tool16 = extrude(cut_extrude_1_sk16.sketch, amount=-CUT_EXTRUDE_1_REACH, mode=Mode.PRIVATE) & part_1.part
    add(cut_extrude_1_tool16.solids().sort_by_distance((-127.5, 6, 260))[0], mode=Mode.SUBTRACT)
    # 草图11 → 切除-拉伸1 (cut, up to next)
    with BuildSketch(Plane(origin=(0, 6, 0), x_dir=(1, 0, 0), z_dir=(0, 1, 0)), mode=Mode.PRIVATE) as cut_extrude_1_sk17:
        with Locations((-37.5, -20)):
            Circle(SKETCH_11_R)
    cut_extrude_1_tool17 = extrude(cut_extrude_1_sk17.sketch, amount=-CUT_EXTRUDE_1_REACH, mode=Mode.PRIVATE) & part_1.part
    add(cut_extrude_1_tool17.solids().sort_by_distance((-37.5, 6, 20))[0], mode=Mode.SUBTRACT)
    # 草图11 → 切除-拉伸1 (cut, up to next)
    with BuildSketch(Plane(origin=(0, 6, 0), x_dir=(1, 0, 0), z_dir=(0, 1, 0)), mode=Mode.PRIVATE) as cut_extrude_1_sk18:
        with Locations((-127.5, -20)):
            Circle(SKETCH_11_R)
    cut_extrude_1_tool18 = extrude(cut_extrude_1_sk18.sketch, amount=-CUT_EXTRUDE_1_REACH, mode=Mode.PRIVATE) & part_1.part
    add(cut_extrude_1_tool18.solids().sort_by_distance((-127.5, 6, 20))[0], mode=Mode.SUBTRACT)

    # 草图12 → 切除-拉伸2 (cut)
    with BuildSketch(Plane.XY.offset(2060)):
        with Locations((-180.000001669, 451)):
            Circle(SKETCH_12_R)
        with Locations((-82.500000835, 451)):
            Circle(SKETCH_12_R)
        with Locations((15, 451)):
            Circle(SKETCH_12_R)
        with Locations((15, 341)):
            Circle(SKETCH_12_R)
        with Locations((15, 95)):
            Circle(SKETCH_12_R)
        with Locations((15, 218)):
            Circle(SKETCH_12_R)
        with Locations((15, -15)):
            Circle(SKETCH_12_R)
        with Locations((-82.5, -15)):
            Circle(SKETCH_12_R)
        with Locations((-180.000001669, -15)):
            Circle(SKETCH_12_R)
        with Locations((-2907.561200019, -255)):
            Rectangle(SKETCH_12_W, SKETCH_12_H)
    extrude(amount=-CUT_EXTRUDE_2_DEPTH, mode=Mode.SUBTRACT)


solid = part_1.part
